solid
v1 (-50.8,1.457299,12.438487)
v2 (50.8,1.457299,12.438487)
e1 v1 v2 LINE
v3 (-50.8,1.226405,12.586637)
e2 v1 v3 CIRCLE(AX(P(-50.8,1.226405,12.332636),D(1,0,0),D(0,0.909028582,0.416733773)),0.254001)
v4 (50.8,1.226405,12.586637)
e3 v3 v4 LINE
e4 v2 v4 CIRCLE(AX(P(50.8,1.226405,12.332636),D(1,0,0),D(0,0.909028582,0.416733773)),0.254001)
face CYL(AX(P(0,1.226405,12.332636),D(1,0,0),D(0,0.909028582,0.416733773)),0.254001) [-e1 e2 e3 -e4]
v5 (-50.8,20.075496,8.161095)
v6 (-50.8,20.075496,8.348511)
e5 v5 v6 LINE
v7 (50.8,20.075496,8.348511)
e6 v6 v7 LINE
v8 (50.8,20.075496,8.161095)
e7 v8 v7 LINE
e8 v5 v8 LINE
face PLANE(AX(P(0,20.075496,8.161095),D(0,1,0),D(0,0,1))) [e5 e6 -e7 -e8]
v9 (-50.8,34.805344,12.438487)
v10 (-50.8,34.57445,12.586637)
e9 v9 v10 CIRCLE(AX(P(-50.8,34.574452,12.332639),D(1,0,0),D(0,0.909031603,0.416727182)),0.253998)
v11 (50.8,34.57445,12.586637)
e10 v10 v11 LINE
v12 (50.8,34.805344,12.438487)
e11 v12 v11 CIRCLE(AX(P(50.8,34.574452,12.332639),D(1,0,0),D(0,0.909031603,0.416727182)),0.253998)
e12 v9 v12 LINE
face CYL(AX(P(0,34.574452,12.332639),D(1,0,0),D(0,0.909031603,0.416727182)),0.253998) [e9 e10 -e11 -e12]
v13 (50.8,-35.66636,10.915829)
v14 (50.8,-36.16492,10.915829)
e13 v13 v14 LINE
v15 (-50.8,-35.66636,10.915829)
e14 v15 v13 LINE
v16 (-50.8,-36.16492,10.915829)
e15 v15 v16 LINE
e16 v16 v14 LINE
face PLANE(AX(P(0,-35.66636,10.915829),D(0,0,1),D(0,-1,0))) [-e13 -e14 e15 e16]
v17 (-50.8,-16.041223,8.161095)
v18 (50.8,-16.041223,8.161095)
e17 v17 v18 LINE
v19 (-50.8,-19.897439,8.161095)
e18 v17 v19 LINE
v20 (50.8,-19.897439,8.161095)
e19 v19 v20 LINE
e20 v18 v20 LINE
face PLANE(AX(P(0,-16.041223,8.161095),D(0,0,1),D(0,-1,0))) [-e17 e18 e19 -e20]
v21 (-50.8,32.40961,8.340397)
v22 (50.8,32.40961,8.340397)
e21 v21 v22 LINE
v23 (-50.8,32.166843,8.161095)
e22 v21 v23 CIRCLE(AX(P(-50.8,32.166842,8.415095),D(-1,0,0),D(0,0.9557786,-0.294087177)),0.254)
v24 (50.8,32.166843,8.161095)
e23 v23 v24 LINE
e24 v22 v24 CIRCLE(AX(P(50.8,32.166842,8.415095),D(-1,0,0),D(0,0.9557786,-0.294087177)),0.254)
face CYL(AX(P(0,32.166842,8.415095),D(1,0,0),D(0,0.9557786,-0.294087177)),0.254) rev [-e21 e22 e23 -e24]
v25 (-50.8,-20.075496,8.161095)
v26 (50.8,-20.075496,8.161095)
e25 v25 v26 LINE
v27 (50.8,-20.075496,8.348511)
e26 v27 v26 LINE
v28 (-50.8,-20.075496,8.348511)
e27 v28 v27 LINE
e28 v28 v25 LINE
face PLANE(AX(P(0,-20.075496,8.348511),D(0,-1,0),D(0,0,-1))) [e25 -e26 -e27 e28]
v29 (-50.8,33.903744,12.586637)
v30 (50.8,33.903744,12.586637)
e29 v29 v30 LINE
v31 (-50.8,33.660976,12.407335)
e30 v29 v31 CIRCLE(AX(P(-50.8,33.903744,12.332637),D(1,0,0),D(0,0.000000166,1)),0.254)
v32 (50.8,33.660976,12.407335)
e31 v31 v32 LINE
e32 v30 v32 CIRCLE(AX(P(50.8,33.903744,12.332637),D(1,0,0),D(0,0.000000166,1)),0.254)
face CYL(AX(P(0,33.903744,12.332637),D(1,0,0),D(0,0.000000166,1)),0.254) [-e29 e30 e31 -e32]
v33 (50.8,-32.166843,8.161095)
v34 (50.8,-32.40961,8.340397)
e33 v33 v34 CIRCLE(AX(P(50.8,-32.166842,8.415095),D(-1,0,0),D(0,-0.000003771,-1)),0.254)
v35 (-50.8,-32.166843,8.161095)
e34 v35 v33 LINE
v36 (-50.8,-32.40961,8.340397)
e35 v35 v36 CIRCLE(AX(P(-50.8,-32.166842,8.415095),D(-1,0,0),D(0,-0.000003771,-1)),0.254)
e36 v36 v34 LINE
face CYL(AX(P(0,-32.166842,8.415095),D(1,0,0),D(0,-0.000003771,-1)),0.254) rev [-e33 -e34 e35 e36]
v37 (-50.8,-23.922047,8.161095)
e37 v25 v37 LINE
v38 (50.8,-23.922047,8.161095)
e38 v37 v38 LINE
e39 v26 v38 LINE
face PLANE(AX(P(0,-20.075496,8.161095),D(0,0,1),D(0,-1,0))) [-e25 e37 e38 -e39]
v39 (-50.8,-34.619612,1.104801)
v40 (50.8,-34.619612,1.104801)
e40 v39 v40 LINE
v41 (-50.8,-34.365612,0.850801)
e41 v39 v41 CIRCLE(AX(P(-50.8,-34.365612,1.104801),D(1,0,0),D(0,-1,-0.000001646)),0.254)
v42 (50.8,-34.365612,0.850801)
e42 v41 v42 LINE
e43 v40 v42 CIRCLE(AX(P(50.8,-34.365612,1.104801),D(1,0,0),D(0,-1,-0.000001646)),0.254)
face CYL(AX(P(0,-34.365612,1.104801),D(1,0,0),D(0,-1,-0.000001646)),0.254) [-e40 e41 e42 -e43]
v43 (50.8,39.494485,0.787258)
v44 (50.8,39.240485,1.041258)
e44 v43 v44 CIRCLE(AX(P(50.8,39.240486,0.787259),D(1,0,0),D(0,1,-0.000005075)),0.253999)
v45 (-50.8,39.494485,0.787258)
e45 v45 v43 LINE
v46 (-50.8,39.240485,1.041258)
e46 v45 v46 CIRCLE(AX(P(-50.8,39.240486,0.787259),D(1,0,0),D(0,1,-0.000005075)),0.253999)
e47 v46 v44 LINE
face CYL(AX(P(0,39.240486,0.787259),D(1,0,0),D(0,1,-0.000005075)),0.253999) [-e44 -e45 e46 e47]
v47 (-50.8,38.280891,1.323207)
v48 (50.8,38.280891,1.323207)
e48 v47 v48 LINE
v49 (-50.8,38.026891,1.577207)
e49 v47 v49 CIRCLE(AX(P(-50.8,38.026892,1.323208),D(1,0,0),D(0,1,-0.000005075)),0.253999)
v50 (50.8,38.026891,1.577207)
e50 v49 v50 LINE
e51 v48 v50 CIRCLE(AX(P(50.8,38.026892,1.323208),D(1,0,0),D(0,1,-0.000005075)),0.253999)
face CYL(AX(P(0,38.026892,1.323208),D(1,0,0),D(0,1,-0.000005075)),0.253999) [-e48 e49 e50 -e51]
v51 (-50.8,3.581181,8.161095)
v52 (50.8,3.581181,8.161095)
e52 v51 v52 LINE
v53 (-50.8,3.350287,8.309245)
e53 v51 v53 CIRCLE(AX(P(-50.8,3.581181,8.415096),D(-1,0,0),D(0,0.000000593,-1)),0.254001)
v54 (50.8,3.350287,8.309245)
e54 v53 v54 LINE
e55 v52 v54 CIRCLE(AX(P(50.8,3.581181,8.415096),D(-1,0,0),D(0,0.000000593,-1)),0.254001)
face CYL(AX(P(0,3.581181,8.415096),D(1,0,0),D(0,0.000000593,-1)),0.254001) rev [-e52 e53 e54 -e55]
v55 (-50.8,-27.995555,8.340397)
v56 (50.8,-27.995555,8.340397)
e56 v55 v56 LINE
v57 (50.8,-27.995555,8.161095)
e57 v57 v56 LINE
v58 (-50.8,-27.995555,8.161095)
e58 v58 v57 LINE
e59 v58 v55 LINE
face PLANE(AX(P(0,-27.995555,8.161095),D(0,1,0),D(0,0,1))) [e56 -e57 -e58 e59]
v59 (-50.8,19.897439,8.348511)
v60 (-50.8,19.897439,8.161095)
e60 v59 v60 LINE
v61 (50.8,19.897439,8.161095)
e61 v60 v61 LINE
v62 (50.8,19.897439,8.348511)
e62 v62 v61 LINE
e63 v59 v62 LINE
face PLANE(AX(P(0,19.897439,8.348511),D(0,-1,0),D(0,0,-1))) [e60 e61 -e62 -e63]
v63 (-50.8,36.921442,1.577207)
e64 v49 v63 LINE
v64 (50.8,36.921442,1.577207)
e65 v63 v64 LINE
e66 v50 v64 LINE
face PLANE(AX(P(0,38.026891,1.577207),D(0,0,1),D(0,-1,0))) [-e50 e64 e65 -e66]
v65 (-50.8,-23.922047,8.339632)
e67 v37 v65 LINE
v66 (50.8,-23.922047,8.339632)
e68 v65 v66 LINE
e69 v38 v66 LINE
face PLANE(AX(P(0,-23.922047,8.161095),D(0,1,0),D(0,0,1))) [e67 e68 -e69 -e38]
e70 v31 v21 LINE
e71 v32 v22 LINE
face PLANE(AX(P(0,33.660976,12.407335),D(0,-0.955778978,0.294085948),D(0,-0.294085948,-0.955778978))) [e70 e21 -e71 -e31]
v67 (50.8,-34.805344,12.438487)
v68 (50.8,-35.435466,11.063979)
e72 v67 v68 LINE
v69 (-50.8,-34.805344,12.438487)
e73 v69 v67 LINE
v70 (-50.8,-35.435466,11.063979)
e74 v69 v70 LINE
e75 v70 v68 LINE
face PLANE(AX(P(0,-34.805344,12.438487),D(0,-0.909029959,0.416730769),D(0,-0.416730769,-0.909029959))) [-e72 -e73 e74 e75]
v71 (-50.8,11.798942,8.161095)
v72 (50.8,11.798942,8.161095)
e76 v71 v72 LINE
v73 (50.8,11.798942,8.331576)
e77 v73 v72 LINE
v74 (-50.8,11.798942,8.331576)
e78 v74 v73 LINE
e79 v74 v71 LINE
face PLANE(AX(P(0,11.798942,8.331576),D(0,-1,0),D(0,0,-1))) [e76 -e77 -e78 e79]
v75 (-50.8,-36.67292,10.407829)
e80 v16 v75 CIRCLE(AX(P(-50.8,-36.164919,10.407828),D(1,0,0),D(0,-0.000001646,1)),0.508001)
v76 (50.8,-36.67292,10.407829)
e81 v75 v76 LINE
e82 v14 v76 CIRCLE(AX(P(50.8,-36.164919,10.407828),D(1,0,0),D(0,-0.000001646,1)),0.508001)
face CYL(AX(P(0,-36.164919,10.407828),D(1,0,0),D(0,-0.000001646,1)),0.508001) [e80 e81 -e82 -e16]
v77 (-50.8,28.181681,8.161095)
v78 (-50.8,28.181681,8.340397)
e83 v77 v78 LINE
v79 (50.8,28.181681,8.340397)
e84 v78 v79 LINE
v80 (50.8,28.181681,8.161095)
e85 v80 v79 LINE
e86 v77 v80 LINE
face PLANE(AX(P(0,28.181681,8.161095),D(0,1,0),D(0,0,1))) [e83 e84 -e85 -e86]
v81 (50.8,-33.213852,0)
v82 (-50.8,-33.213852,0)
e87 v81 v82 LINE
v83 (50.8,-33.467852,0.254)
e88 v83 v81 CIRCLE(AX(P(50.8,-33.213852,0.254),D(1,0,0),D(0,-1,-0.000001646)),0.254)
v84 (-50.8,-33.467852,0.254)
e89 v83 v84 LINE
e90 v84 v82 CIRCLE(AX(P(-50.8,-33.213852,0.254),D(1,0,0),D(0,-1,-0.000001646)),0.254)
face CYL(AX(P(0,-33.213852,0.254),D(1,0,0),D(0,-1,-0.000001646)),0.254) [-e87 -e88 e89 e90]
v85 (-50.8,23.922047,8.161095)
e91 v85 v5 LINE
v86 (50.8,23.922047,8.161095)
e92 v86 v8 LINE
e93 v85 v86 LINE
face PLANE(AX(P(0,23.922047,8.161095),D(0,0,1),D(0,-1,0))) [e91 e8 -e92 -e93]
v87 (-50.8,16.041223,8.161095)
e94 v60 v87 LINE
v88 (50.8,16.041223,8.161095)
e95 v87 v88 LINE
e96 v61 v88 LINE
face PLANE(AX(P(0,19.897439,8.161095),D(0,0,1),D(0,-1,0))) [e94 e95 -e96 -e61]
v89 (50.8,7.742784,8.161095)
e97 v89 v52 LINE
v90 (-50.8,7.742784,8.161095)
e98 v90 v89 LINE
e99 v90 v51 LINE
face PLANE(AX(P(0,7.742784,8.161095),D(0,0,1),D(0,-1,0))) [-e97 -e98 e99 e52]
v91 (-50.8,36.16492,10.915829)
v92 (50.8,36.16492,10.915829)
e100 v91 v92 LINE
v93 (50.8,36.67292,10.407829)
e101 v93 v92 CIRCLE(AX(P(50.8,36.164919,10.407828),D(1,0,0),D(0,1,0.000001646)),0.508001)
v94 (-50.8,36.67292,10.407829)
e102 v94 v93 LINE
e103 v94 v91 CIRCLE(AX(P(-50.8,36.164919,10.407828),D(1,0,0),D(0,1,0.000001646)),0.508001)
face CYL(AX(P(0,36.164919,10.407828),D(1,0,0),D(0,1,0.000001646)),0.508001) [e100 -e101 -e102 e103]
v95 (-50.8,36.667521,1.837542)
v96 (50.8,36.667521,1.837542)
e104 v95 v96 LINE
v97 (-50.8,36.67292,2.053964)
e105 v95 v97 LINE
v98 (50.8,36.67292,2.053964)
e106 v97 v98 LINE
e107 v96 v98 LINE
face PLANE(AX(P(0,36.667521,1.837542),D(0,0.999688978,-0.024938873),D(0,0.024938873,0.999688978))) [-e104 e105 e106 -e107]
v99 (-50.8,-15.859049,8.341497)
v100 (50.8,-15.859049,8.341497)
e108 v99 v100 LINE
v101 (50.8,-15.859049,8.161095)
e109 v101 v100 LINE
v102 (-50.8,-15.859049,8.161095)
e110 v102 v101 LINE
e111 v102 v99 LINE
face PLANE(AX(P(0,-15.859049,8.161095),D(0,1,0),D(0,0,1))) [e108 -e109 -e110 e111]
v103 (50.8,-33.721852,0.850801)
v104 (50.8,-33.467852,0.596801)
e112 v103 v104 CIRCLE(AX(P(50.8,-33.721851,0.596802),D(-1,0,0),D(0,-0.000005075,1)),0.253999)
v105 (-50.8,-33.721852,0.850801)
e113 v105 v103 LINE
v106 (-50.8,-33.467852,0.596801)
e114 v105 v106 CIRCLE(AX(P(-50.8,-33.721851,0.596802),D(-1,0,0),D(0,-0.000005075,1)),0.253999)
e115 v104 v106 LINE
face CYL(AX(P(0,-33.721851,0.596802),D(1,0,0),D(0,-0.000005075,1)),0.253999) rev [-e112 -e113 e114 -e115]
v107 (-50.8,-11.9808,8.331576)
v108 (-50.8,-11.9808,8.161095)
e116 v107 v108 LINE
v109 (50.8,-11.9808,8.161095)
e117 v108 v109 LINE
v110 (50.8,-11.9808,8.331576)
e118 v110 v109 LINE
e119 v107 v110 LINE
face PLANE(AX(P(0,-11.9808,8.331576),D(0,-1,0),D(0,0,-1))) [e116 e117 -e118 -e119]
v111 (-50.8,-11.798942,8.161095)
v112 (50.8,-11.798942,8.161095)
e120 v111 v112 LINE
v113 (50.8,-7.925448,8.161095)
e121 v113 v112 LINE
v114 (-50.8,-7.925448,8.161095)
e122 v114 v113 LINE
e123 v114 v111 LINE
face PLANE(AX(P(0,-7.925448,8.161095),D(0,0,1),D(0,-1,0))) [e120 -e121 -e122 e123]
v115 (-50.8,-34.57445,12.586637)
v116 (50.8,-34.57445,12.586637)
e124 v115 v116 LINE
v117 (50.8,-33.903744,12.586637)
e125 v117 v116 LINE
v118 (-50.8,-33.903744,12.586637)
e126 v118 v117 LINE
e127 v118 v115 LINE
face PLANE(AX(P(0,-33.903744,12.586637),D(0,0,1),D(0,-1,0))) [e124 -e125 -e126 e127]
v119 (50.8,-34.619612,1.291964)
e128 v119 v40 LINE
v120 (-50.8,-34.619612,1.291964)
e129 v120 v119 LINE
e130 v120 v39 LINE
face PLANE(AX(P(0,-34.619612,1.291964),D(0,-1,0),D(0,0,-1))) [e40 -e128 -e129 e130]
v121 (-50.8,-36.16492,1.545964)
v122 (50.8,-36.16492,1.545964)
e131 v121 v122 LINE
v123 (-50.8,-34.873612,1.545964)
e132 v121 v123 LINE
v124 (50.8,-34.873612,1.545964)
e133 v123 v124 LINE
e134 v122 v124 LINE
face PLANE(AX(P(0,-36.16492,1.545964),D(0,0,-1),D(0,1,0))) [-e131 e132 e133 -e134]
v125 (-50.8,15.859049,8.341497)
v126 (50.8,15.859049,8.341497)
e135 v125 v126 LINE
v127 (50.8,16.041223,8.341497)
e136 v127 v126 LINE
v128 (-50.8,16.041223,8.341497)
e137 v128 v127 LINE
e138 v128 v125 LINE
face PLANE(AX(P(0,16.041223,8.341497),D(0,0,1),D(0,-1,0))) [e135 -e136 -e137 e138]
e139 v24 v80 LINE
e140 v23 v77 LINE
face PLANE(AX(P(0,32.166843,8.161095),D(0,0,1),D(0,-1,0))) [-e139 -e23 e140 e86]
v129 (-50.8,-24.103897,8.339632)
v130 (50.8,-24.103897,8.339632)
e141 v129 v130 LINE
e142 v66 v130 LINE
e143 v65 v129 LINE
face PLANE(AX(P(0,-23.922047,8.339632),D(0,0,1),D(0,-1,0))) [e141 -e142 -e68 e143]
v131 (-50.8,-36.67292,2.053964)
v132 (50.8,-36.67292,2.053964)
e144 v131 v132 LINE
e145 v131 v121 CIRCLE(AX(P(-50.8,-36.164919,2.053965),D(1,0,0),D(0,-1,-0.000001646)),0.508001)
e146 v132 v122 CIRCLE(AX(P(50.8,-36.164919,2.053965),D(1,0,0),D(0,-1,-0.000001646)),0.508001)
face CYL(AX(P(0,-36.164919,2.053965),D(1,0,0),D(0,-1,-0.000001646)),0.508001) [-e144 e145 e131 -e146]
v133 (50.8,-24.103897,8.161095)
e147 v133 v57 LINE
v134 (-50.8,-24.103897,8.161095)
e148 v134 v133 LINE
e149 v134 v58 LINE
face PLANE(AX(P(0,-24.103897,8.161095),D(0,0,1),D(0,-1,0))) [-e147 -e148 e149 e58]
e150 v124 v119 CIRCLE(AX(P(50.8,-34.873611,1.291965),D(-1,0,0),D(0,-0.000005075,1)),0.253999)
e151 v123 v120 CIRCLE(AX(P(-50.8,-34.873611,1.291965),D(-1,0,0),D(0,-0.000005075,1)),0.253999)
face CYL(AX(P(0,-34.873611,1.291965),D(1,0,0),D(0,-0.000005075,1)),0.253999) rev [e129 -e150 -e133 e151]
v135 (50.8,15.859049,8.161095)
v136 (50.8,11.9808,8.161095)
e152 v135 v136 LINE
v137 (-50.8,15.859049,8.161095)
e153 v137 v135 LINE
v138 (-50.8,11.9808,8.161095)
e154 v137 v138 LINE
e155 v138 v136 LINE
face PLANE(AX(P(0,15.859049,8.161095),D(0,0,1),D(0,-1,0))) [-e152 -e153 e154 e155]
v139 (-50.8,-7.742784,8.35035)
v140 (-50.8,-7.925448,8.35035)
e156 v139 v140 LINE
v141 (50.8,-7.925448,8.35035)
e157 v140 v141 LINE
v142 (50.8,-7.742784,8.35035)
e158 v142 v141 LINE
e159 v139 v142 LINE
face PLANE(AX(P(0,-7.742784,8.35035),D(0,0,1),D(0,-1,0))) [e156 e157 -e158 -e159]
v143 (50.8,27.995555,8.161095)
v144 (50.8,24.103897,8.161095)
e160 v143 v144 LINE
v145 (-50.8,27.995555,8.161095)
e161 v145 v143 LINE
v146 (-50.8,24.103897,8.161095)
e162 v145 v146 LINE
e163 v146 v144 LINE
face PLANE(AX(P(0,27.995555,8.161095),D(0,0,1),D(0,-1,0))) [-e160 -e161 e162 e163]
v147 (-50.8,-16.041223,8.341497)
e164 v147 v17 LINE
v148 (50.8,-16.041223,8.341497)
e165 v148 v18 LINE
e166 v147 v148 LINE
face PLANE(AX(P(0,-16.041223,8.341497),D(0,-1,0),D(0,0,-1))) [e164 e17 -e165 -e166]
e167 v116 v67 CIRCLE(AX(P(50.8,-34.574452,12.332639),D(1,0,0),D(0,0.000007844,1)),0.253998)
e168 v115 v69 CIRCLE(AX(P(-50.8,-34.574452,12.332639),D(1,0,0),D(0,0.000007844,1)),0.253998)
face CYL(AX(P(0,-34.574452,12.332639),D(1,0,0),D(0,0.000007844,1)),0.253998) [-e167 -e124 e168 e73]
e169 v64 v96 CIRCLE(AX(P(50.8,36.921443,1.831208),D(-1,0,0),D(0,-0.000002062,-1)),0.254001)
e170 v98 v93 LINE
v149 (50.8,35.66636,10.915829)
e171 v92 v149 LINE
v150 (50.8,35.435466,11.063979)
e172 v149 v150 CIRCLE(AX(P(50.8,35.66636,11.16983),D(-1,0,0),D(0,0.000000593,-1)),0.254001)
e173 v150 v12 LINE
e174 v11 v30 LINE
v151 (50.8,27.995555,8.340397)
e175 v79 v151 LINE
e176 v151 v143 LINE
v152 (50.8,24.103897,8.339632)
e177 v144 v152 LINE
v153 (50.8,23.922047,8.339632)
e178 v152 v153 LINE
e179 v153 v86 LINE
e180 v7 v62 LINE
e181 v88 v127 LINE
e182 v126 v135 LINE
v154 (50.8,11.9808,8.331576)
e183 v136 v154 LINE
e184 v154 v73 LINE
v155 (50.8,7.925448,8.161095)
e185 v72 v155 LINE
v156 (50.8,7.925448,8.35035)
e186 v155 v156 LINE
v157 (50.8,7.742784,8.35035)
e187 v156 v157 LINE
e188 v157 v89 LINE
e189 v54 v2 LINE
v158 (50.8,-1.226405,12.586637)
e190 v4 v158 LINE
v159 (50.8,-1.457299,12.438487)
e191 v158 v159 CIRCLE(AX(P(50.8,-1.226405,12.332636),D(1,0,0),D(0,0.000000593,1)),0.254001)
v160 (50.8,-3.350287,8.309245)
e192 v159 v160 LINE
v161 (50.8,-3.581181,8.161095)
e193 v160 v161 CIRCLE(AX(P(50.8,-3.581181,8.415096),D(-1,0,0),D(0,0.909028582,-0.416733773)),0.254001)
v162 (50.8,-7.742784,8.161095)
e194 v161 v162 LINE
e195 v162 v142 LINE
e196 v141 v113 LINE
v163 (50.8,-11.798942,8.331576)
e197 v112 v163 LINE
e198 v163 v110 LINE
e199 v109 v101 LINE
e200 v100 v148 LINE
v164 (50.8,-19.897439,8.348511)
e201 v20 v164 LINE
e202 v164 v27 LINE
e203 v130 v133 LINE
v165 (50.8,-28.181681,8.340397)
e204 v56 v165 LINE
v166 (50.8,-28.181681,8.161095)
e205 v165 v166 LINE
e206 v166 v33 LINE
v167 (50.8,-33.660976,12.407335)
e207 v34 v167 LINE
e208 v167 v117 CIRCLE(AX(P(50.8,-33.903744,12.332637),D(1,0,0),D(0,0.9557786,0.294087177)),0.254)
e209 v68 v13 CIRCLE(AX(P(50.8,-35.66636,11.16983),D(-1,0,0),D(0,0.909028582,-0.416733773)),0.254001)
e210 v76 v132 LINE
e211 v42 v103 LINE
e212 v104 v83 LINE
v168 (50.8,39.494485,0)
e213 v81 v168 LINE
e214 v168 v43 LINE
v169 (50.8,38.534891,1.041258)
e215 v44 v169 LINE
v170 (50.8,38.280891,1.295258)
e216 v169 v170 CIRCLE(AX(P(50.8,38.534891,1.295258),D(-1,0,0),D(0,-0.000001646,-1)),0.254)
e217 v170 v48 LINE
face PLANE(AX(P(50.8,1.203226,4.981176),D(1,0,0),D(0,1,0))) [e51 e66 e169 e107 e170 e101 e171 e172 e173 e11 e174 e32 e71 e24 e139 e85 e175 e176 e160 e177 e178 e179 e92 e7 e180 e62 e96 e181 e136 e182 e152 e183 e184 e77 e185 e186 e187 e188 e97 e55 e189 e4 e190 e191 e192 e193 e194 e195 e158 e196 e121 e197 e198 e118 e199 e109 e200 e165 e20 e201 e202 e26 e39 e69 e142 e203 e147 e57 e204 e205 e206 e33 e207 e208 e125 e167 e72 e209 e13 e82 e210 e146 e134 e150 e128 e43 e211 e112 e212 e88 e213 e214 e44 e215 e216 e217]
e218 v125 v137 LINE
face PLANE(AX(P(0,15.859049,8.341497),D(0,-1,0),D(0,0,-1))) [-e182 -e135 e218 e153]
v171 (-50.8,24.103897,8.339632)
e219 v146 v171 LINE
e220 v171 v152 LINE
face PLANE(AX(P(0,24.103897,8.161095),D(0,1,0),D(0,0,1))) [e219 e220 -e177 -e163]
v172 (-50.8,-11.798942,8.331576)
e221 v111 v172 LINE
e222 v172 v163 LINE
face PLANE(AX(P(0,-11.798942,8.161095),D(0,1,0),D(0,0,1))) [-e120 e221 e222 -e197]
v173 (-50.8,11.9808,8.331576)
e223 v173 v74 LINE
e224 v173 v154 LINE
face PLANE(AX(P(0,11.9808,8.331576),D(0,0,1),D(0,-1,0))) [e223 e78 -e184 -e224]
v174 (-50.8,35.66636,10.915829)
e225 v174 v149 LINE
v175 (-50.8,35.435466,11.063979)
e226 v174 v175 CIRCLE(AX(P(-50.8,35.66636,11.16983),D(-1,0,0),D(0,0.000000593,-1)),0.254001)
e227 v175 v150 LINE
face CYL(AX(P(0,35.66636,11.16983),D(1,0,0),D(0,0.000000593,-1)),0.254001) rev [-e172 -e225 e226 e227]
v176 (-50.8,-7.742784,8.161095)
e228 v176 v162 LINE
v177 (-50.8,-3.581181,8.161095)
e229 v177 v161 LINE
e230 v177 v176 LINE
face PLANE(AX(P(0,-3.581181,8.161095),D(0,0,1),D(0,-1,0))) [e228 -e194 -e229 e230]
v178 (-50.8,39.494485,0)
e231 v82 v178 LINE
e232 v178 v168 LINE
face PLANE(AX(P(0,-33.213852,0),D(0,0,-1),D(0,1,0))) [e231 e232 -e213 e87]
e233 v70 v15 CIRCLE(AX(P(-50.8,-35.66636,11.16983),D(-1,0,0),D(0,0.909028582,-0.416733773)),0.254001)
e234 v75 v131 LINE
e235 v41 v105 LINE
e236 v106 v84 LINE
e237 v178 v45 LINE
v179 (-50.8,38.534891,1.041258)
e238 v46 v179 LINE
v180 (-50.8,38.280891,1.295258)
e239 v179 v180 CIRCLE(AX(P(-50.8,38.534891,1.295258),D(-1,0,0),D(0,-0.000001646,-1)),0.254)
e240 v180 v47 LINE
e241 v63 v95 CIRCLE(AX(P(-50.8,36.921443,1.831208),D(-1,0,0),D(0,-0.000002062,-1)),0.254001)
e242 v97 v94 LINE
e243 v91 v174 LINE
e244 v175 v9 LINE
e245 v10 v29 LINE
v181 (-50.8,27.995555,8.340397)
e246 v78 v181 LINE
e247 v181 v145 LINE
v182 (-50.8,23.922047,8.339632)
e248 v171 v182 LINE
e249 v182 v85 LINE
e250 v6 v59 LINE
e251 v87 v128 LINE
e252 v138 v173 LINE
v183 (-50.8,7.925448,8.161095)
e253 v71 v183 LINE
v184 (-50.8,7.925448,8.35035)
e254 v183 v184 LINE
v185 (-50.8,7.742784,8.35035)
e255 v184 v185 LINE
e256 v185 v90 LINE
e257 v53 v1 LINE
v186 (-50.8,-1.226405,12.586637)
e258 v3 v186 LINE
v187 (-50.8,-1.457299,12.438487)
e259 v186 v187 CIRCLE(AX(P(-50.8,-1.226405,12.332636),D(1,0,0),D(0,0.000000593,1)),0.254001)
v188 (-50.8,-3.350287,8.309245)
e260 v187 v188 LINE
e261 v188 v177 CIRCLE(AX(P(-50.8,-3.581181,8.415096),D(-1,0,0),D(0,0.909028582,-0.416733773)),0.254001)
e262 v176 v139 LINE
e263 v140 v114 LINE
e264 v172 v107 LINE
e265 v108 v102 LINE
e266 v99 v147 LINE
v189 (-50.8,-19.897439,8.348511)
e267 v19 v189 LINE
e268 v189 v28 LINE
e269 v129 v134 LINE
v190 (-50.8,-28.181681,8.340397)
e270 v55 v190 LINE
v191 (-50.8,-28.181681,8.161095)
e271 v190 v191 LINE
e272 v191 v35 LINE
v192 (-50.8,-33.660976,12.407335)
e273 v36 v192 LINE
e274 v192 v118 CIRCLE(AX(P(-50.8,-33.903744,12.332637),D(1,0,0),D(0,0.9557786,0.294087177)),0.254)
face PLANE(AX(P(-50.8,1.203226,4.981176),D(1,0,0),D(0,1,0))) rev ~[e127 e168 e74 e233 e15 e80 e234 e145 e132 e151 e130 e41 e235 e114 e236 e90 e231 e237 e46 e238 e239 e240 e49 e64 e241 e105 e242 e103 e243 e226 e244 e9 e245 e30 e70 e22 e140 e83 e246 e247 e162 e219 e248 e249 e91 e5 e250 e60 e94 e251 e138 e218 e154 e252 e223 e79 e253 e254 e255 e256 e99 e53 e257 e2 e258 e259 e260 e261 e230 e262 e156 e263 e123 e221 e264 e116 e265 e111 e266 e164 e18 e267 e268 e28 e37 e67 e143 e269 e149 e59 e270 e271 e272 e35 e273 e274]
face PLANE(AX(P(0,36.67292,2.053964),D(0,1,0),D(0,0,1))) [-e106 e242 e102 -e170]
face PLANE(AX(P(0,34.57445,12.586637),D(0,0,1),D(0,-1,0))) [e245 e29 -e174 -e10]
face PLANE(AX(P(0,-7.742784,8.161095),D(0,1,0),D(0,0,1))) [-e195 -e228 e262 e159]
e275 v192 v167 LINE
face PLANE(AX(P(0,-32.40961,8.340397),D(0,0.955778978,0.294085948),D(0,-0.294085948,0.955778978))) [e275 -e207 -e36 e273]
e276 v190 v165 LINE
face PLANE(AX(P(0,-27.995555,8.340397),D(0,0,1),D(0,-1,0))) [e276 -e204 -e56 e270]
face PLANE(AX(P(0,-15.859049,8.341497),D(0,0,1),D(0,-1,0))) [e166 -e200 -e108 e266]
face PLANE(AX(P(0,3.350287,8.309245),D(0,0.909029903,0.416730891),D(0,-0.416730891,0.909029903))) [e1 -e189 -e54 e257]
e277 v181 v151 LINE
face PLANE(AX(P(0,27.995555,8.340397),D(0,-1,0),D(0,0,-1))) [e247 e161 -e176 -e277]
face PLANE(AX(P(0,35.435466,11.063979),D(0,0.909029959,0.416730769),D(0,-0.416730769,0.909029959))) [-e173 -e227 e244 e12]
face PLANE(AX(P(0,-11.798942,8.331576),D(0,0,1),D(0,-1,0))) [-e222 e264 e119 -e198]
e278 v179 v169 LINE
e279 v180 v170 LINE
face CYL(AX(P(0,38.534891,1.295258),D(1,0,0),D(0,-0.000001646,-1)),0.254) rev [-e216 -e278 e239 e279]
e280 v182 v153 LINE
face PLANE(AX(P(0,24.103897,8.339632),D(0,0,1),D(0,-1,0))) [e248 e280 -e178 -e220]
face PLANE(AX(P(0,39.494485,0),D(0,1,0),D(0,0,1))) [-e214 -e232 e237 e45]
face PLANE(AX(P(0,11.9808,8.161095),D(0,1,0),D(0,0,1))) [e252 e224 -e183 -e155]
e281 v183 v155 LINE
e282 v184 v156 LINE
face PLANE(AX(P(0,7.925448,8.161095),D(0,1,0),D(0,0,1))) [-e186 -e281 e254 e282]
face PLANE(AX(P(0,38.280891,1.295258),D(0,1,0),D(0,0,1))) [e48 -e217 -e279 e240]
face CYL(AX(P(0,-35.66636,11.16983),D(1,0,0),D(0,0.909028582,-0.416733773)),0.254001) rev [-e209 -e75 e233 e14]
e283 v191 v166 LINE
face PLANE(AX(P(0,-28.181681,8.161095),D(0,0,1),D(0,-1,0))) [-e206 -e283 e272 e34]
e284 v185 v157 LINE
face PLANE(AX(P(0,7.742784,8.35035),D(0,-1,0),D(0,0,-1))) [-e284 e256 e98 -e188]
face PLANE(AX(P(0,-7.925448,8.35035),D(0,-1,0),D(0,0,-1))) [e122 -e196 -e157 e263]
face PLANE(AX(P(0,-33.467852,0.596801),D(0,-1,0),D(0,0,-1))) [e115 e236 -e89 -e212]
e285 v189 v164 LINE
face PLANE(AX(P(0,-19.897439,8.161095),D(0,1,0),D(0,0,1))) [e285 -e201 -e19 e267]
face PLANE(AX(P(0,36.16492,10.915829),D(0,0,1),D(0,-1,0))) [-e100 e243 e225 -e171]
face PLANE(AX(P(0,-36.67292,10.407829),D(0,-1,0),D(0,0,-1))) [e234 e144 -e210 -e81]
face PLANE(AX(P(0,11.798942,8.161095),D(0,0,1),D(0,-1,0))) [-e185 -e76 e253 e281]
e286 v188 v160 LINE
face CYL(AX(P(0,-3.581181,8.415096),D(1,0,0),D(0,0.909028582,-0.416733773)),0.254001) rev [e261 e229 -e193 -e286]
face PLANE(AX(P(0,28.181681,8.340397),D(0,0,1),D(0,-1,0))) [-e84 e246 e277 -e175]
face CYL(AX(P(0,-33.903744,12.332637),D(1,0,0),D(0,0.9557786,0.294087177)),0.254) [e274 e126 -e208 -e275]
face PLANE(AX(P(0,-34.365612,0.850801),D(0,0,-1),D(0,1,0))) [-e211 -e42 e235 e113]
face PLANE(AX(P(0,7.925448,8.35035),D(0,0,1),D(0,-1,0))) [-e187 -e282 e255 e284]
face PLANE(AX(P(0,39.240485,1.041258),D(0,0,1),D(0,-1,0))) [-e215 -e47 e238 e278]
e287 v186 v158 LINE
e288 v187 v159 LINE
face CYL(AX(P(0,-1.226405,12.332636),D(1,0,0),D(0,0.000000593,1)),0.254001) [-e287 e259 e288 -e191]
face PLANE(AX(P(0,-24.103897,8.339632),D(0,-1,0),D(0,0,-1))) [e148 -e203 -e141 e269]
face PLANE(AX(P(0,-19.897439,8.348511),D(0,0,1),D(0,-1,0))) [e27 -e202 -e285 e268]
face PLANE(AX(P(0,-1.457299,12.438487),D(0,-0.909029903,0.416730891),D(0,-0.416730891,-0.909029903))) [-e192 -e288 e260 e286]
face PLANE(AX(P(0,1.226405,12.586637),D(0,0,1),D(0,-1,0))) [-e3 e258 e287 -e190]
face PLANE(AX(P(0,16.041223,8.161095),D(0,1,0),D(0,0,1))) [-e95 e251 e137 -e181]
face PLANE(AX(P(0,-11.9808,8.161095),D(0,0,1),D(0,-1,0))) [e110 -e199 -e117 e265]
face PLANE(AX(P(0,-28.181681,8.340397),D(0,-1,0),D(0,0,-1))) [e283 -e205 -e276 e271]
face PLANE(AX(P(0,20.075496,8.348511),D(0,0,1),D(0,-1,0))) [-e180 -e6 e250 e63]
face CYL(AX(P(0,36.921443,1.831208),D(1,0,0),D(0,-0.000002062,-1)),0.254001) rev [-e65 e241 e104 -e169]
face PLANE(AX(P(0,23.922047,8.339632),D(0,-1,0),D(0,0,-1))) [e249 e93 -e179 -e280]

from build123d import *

# Parameters (mm, degrees)
F1_DEPTH      = 50.8
F1_DEPTH_BACK = 50.8


with BuildPart() as f1:
    # F0 (on Right) → F1 (new body, two sides)
    with BuildSketch(Plane.YZ) as f1_sk:
        with BuildLine():
            Line((-33.213852, 0), (0, 0))
            Line((0, 0), (39.494485, 0))
            Line((39.494485, 0), (39.494485, 0.787258))
            ThreePointArc((39.494485, 0.787258), (39.42009, 0.966864), (39.240485, 1.041258))
            Line((39.240485, 1.041258), (38.534891, 1.041258))
            ThreePointArc((38.534891, 1.041258), (38.355286, 1.115653), (38.280891, 1.295258))
            Line((38.280891, 1.295258), (38.280891, 1.323207))
            ThreePointArc((38.280891, 1.323207), (38.206496, 1.502813), (38.026891, 1.577207))
            Line((38.026891, 1.577207), (36.921442, 1.577207))
            ThreePointArc((36.921442, 1.577207), (36.739611, 1.653856), (36.667521, 1.837542))
            Line((36.667521, 1.837542), (36.67292, 2.053964))
            Line((36.67292, 2.053964), (36.67292, 10.407829))
            ThreePointArc((36.67292, 10.407829), (36.52413, 10.767039), (36.16492, 10.915829))
            Line((36.16492, 10.915829), (35.66636, 10.915829))
            ThreePointArc((35.66636, 10.915829), (35.529192, 10.956051), (35.435466, 11.063979))
            Line((35.435466, 11.063979), (34.805344, 12.438487))
            ThreePointArc((34.805344, 12.438487), (34.711619, 12.546415), (34.57445, 12.586637))
            Line((34.57445, 12.586637), (33.903744, 12.586637))
            ThreePointArc((33.903744, 12.586637), (33.752842, 12.536952), (33.660976, 12.407335))
            Line((33.660976, 12.407335), (32.40961, 8.340397))
            ThreePointArc((32.40961, 8.340397), (32.317744, 8.21078), (32.166843, 8.161095))
            Line((32.166843, 8.161095), (28.181681, 8.161095))
            Line((28.181681, 8.161095), (28.181681, 8.340397))
            Line((28.181681, 8.340397), (27.995555, 8.340397))
            Line((27.995555, 8.340397), (27.995555, 8.161095))
            Line((27.995555, 8.161095), (24.103897, 8.161095))
            Line((24.103897, 8.161095), (24.103897, 8.339632))
            Line((24.103897, 8.339632), (23.922047, 8.339632))
            Line((23.922047, 8.339632), (23.922047, 8.161095))
            Line((23.922047, 8.161095), (20.075496, 8.161095))
            Line((20.075496, 8.161095), (20.075496, 8.348511))
            Line((20.075496, 8.348511), (19.897439, 8.348511))
            Line((19.897439, 8.348511), (19.897439, 8.161095))
            Line((19.897439, 8.161095), (16.041223, 8.161095))
            Line((16.041223, 8.161095), (16.041223, 8.341497))
            Line((16.041223, 8.341497), (15.859049, 8.341497))
            Line((15.859049, 8.341497), (15.859049, 8.161095))
            Line((15.859049, 8.161095), (11.9808, 8.161095))
            Line((11.9808, 8.161095), (11.9808, 8.331576))
            Line((11.9808, 8.331576), (11.798942, 8.331576))
            Line((11.798942, 8.331576), (11.798942, 8.161095))
            Line((11.798942, 8.161095), (7.925448, 8.161095))
            Line((7.925448, 8.161095), (7.925448, 8.35035))
            Line((7.925448, 8.35035), (7.742784, 8.35035))
            Line((7.742784, 8.35035), (7.742784, 8.161095))
            Line((7.742784, 8.161095), (3.581181, 8.161095))
            ThreePointArc((3.581181, 8.161095), (3.444013, 8.201317), (3.350287, 8.309245))
            Line((3.350287, 8.309245), (1.457299, 12.438487))
            ThreePointArc((1.457299, 12.438487), (1.363573, 12.546415), (1.226405, 12.586637))
            Line((1.226405, 12.586637), (0, 12.586637))
            Line((0, 12.586637), (-1.226405, 12.586637))
            ThreePointArc((-1.226405, 12.586637), (-1.363573, 12.546415), (-1.457299, 12.438487))
            Line((-1.457299, 12.438487), (-3.350287, 8.309245))
            ThreePointArc((-3.350287, 8.309245), (-3.444013, 8.201317), (-3.581181, 8.161095))
            Line((-3.581181, 8.161095), (-7.742784, 8.161095))
            Line((-7.742784, 8.161095), (-7.742784, 8.35035))
            Line((-7.742784, 8.35035), (-7.925448, 8.35035))
            Line((-7.925448, 8.35035), (-7.925448, 8.161095))
            Line((-7.925448, 8.161095), (-11.798942, 8.161095))
            Line((-11.798942, 8.161095), (-11.798942, 8.331576))
            Line((-11.798942, 8.331576), (-11.9808, 8.331576))
            Line((-11.9808, 8.331576), (-11.9808, 8.161095))
            Line((-11.9808, 8.161095), (-15.859049, 8.161095))
            Line((-15.859049, 8.161095), (-15.859049, 8.341497))
            Line((-15.859049, 8.341497), (-16.041223, 8.341497))
            Line((-16.041223, 8.341497), (-16.041223, 8.161095))
            Line((-16.041223, 8.161095), (-19.897439, 8.161095))
            Line((-19.897439, 8.161095), (-19.897439, 8.348511))
            Line((-19.897439, 8.348511), (-20.075496, 8.348511))
            Line((-20.075496, 8.348511), (-20.075496, 8.161095))
            Line((-20.075496, 8.161095), (-23.922047, 8.161095))
            Line((-23.922047, 8.161095), (-23.922047, 8.339632))
            Line((-23.922047, 8.339632), (-24.103897, 8.339632))
            Line((-24.103897, 8.339632), (-24.103897, 8.161095))
            Line((-24.103897, 8.161095), (-27.995555, 8.161095))
            Line((-27.995555, 8.161095), (-27.995555, 8.340397))
            Line((-27.995555, 8.340397), (-28.181681, 8.340397))
            Line((-28.181681, 8.340397), (-28.181681, 8.161095))
            Line((-28.181681, 8.161095), (-32.166843, 8.161095))
            ThreePointArc((-32.166843, 8.161095), (-32.317744, 8.21078), (-32.40961, 8.340397))
            Line((-32.40961, 8.340397), (-33.660976, 12.407335))
            ThreePointArc((-33.660976, 12.407335), (-33.752842, 12.536952), (-33.903744, 12.586637))
            Line((-33.903744, 12.586637), (-34.57445, 12.586637))
            ThreePointArc((-34.57445, 12.586637), (-34.711619, 12.546415), (-34.805344, 12.438487))
            Line((-34.805344, 12.438487), (-35.435466, 11.063979))
            ThreePointArc((-35.435466, 11.063979), (-35.529192, 10.956051), (-35.66636, 10.915829))
            Line((-35.66636, 10.915829), (-36.16492, 10.915829))
            ThreePointArc((-36.16492, 10.915829), (-36.52413, 10.767039), (-36.67292, 10.407829))
            Line((-36.67292, 10.407829), (-36.67292, 2.053964))
            ThreePointArc((-36.67292, 2.053964), (-36.52413, 1.694754), (-36.16492, 1.545964))
            Line((-36.16492, 1.545964), (-34.873612, 1.545964))
            ThreePointArc((-34.873612, 1.545964), (-34.694007, 1.47157), (-34.619612, 1.291964))
            Line((-34.619612, 1.291964), (-34.619612, 1.104801))
            ThreePointArc((-34.619612, 1.104801), (-34.545217, 0.925196), (-34.365612, 0.850801))
            Line((-34.365612, 0.850801), (-33.721852, 0.850801))
            ThreePointArc((-33.721852, 0.850801), (-33.542246, 0.776406), (-33.467852, 0.596801))
            Line((-33.467852, 0.596801), (-33.467852, 0.254))
            ThreePointArc((-33.467852, 0.254), (-33.393457, 0.074395), (-33.213852, 0))
        make_face()
    extrude(amount=F1_DEPTH)
    extrude(f1_sk.sketch, amount=-F1_DEPTH_BACK)


solid = f1.part
